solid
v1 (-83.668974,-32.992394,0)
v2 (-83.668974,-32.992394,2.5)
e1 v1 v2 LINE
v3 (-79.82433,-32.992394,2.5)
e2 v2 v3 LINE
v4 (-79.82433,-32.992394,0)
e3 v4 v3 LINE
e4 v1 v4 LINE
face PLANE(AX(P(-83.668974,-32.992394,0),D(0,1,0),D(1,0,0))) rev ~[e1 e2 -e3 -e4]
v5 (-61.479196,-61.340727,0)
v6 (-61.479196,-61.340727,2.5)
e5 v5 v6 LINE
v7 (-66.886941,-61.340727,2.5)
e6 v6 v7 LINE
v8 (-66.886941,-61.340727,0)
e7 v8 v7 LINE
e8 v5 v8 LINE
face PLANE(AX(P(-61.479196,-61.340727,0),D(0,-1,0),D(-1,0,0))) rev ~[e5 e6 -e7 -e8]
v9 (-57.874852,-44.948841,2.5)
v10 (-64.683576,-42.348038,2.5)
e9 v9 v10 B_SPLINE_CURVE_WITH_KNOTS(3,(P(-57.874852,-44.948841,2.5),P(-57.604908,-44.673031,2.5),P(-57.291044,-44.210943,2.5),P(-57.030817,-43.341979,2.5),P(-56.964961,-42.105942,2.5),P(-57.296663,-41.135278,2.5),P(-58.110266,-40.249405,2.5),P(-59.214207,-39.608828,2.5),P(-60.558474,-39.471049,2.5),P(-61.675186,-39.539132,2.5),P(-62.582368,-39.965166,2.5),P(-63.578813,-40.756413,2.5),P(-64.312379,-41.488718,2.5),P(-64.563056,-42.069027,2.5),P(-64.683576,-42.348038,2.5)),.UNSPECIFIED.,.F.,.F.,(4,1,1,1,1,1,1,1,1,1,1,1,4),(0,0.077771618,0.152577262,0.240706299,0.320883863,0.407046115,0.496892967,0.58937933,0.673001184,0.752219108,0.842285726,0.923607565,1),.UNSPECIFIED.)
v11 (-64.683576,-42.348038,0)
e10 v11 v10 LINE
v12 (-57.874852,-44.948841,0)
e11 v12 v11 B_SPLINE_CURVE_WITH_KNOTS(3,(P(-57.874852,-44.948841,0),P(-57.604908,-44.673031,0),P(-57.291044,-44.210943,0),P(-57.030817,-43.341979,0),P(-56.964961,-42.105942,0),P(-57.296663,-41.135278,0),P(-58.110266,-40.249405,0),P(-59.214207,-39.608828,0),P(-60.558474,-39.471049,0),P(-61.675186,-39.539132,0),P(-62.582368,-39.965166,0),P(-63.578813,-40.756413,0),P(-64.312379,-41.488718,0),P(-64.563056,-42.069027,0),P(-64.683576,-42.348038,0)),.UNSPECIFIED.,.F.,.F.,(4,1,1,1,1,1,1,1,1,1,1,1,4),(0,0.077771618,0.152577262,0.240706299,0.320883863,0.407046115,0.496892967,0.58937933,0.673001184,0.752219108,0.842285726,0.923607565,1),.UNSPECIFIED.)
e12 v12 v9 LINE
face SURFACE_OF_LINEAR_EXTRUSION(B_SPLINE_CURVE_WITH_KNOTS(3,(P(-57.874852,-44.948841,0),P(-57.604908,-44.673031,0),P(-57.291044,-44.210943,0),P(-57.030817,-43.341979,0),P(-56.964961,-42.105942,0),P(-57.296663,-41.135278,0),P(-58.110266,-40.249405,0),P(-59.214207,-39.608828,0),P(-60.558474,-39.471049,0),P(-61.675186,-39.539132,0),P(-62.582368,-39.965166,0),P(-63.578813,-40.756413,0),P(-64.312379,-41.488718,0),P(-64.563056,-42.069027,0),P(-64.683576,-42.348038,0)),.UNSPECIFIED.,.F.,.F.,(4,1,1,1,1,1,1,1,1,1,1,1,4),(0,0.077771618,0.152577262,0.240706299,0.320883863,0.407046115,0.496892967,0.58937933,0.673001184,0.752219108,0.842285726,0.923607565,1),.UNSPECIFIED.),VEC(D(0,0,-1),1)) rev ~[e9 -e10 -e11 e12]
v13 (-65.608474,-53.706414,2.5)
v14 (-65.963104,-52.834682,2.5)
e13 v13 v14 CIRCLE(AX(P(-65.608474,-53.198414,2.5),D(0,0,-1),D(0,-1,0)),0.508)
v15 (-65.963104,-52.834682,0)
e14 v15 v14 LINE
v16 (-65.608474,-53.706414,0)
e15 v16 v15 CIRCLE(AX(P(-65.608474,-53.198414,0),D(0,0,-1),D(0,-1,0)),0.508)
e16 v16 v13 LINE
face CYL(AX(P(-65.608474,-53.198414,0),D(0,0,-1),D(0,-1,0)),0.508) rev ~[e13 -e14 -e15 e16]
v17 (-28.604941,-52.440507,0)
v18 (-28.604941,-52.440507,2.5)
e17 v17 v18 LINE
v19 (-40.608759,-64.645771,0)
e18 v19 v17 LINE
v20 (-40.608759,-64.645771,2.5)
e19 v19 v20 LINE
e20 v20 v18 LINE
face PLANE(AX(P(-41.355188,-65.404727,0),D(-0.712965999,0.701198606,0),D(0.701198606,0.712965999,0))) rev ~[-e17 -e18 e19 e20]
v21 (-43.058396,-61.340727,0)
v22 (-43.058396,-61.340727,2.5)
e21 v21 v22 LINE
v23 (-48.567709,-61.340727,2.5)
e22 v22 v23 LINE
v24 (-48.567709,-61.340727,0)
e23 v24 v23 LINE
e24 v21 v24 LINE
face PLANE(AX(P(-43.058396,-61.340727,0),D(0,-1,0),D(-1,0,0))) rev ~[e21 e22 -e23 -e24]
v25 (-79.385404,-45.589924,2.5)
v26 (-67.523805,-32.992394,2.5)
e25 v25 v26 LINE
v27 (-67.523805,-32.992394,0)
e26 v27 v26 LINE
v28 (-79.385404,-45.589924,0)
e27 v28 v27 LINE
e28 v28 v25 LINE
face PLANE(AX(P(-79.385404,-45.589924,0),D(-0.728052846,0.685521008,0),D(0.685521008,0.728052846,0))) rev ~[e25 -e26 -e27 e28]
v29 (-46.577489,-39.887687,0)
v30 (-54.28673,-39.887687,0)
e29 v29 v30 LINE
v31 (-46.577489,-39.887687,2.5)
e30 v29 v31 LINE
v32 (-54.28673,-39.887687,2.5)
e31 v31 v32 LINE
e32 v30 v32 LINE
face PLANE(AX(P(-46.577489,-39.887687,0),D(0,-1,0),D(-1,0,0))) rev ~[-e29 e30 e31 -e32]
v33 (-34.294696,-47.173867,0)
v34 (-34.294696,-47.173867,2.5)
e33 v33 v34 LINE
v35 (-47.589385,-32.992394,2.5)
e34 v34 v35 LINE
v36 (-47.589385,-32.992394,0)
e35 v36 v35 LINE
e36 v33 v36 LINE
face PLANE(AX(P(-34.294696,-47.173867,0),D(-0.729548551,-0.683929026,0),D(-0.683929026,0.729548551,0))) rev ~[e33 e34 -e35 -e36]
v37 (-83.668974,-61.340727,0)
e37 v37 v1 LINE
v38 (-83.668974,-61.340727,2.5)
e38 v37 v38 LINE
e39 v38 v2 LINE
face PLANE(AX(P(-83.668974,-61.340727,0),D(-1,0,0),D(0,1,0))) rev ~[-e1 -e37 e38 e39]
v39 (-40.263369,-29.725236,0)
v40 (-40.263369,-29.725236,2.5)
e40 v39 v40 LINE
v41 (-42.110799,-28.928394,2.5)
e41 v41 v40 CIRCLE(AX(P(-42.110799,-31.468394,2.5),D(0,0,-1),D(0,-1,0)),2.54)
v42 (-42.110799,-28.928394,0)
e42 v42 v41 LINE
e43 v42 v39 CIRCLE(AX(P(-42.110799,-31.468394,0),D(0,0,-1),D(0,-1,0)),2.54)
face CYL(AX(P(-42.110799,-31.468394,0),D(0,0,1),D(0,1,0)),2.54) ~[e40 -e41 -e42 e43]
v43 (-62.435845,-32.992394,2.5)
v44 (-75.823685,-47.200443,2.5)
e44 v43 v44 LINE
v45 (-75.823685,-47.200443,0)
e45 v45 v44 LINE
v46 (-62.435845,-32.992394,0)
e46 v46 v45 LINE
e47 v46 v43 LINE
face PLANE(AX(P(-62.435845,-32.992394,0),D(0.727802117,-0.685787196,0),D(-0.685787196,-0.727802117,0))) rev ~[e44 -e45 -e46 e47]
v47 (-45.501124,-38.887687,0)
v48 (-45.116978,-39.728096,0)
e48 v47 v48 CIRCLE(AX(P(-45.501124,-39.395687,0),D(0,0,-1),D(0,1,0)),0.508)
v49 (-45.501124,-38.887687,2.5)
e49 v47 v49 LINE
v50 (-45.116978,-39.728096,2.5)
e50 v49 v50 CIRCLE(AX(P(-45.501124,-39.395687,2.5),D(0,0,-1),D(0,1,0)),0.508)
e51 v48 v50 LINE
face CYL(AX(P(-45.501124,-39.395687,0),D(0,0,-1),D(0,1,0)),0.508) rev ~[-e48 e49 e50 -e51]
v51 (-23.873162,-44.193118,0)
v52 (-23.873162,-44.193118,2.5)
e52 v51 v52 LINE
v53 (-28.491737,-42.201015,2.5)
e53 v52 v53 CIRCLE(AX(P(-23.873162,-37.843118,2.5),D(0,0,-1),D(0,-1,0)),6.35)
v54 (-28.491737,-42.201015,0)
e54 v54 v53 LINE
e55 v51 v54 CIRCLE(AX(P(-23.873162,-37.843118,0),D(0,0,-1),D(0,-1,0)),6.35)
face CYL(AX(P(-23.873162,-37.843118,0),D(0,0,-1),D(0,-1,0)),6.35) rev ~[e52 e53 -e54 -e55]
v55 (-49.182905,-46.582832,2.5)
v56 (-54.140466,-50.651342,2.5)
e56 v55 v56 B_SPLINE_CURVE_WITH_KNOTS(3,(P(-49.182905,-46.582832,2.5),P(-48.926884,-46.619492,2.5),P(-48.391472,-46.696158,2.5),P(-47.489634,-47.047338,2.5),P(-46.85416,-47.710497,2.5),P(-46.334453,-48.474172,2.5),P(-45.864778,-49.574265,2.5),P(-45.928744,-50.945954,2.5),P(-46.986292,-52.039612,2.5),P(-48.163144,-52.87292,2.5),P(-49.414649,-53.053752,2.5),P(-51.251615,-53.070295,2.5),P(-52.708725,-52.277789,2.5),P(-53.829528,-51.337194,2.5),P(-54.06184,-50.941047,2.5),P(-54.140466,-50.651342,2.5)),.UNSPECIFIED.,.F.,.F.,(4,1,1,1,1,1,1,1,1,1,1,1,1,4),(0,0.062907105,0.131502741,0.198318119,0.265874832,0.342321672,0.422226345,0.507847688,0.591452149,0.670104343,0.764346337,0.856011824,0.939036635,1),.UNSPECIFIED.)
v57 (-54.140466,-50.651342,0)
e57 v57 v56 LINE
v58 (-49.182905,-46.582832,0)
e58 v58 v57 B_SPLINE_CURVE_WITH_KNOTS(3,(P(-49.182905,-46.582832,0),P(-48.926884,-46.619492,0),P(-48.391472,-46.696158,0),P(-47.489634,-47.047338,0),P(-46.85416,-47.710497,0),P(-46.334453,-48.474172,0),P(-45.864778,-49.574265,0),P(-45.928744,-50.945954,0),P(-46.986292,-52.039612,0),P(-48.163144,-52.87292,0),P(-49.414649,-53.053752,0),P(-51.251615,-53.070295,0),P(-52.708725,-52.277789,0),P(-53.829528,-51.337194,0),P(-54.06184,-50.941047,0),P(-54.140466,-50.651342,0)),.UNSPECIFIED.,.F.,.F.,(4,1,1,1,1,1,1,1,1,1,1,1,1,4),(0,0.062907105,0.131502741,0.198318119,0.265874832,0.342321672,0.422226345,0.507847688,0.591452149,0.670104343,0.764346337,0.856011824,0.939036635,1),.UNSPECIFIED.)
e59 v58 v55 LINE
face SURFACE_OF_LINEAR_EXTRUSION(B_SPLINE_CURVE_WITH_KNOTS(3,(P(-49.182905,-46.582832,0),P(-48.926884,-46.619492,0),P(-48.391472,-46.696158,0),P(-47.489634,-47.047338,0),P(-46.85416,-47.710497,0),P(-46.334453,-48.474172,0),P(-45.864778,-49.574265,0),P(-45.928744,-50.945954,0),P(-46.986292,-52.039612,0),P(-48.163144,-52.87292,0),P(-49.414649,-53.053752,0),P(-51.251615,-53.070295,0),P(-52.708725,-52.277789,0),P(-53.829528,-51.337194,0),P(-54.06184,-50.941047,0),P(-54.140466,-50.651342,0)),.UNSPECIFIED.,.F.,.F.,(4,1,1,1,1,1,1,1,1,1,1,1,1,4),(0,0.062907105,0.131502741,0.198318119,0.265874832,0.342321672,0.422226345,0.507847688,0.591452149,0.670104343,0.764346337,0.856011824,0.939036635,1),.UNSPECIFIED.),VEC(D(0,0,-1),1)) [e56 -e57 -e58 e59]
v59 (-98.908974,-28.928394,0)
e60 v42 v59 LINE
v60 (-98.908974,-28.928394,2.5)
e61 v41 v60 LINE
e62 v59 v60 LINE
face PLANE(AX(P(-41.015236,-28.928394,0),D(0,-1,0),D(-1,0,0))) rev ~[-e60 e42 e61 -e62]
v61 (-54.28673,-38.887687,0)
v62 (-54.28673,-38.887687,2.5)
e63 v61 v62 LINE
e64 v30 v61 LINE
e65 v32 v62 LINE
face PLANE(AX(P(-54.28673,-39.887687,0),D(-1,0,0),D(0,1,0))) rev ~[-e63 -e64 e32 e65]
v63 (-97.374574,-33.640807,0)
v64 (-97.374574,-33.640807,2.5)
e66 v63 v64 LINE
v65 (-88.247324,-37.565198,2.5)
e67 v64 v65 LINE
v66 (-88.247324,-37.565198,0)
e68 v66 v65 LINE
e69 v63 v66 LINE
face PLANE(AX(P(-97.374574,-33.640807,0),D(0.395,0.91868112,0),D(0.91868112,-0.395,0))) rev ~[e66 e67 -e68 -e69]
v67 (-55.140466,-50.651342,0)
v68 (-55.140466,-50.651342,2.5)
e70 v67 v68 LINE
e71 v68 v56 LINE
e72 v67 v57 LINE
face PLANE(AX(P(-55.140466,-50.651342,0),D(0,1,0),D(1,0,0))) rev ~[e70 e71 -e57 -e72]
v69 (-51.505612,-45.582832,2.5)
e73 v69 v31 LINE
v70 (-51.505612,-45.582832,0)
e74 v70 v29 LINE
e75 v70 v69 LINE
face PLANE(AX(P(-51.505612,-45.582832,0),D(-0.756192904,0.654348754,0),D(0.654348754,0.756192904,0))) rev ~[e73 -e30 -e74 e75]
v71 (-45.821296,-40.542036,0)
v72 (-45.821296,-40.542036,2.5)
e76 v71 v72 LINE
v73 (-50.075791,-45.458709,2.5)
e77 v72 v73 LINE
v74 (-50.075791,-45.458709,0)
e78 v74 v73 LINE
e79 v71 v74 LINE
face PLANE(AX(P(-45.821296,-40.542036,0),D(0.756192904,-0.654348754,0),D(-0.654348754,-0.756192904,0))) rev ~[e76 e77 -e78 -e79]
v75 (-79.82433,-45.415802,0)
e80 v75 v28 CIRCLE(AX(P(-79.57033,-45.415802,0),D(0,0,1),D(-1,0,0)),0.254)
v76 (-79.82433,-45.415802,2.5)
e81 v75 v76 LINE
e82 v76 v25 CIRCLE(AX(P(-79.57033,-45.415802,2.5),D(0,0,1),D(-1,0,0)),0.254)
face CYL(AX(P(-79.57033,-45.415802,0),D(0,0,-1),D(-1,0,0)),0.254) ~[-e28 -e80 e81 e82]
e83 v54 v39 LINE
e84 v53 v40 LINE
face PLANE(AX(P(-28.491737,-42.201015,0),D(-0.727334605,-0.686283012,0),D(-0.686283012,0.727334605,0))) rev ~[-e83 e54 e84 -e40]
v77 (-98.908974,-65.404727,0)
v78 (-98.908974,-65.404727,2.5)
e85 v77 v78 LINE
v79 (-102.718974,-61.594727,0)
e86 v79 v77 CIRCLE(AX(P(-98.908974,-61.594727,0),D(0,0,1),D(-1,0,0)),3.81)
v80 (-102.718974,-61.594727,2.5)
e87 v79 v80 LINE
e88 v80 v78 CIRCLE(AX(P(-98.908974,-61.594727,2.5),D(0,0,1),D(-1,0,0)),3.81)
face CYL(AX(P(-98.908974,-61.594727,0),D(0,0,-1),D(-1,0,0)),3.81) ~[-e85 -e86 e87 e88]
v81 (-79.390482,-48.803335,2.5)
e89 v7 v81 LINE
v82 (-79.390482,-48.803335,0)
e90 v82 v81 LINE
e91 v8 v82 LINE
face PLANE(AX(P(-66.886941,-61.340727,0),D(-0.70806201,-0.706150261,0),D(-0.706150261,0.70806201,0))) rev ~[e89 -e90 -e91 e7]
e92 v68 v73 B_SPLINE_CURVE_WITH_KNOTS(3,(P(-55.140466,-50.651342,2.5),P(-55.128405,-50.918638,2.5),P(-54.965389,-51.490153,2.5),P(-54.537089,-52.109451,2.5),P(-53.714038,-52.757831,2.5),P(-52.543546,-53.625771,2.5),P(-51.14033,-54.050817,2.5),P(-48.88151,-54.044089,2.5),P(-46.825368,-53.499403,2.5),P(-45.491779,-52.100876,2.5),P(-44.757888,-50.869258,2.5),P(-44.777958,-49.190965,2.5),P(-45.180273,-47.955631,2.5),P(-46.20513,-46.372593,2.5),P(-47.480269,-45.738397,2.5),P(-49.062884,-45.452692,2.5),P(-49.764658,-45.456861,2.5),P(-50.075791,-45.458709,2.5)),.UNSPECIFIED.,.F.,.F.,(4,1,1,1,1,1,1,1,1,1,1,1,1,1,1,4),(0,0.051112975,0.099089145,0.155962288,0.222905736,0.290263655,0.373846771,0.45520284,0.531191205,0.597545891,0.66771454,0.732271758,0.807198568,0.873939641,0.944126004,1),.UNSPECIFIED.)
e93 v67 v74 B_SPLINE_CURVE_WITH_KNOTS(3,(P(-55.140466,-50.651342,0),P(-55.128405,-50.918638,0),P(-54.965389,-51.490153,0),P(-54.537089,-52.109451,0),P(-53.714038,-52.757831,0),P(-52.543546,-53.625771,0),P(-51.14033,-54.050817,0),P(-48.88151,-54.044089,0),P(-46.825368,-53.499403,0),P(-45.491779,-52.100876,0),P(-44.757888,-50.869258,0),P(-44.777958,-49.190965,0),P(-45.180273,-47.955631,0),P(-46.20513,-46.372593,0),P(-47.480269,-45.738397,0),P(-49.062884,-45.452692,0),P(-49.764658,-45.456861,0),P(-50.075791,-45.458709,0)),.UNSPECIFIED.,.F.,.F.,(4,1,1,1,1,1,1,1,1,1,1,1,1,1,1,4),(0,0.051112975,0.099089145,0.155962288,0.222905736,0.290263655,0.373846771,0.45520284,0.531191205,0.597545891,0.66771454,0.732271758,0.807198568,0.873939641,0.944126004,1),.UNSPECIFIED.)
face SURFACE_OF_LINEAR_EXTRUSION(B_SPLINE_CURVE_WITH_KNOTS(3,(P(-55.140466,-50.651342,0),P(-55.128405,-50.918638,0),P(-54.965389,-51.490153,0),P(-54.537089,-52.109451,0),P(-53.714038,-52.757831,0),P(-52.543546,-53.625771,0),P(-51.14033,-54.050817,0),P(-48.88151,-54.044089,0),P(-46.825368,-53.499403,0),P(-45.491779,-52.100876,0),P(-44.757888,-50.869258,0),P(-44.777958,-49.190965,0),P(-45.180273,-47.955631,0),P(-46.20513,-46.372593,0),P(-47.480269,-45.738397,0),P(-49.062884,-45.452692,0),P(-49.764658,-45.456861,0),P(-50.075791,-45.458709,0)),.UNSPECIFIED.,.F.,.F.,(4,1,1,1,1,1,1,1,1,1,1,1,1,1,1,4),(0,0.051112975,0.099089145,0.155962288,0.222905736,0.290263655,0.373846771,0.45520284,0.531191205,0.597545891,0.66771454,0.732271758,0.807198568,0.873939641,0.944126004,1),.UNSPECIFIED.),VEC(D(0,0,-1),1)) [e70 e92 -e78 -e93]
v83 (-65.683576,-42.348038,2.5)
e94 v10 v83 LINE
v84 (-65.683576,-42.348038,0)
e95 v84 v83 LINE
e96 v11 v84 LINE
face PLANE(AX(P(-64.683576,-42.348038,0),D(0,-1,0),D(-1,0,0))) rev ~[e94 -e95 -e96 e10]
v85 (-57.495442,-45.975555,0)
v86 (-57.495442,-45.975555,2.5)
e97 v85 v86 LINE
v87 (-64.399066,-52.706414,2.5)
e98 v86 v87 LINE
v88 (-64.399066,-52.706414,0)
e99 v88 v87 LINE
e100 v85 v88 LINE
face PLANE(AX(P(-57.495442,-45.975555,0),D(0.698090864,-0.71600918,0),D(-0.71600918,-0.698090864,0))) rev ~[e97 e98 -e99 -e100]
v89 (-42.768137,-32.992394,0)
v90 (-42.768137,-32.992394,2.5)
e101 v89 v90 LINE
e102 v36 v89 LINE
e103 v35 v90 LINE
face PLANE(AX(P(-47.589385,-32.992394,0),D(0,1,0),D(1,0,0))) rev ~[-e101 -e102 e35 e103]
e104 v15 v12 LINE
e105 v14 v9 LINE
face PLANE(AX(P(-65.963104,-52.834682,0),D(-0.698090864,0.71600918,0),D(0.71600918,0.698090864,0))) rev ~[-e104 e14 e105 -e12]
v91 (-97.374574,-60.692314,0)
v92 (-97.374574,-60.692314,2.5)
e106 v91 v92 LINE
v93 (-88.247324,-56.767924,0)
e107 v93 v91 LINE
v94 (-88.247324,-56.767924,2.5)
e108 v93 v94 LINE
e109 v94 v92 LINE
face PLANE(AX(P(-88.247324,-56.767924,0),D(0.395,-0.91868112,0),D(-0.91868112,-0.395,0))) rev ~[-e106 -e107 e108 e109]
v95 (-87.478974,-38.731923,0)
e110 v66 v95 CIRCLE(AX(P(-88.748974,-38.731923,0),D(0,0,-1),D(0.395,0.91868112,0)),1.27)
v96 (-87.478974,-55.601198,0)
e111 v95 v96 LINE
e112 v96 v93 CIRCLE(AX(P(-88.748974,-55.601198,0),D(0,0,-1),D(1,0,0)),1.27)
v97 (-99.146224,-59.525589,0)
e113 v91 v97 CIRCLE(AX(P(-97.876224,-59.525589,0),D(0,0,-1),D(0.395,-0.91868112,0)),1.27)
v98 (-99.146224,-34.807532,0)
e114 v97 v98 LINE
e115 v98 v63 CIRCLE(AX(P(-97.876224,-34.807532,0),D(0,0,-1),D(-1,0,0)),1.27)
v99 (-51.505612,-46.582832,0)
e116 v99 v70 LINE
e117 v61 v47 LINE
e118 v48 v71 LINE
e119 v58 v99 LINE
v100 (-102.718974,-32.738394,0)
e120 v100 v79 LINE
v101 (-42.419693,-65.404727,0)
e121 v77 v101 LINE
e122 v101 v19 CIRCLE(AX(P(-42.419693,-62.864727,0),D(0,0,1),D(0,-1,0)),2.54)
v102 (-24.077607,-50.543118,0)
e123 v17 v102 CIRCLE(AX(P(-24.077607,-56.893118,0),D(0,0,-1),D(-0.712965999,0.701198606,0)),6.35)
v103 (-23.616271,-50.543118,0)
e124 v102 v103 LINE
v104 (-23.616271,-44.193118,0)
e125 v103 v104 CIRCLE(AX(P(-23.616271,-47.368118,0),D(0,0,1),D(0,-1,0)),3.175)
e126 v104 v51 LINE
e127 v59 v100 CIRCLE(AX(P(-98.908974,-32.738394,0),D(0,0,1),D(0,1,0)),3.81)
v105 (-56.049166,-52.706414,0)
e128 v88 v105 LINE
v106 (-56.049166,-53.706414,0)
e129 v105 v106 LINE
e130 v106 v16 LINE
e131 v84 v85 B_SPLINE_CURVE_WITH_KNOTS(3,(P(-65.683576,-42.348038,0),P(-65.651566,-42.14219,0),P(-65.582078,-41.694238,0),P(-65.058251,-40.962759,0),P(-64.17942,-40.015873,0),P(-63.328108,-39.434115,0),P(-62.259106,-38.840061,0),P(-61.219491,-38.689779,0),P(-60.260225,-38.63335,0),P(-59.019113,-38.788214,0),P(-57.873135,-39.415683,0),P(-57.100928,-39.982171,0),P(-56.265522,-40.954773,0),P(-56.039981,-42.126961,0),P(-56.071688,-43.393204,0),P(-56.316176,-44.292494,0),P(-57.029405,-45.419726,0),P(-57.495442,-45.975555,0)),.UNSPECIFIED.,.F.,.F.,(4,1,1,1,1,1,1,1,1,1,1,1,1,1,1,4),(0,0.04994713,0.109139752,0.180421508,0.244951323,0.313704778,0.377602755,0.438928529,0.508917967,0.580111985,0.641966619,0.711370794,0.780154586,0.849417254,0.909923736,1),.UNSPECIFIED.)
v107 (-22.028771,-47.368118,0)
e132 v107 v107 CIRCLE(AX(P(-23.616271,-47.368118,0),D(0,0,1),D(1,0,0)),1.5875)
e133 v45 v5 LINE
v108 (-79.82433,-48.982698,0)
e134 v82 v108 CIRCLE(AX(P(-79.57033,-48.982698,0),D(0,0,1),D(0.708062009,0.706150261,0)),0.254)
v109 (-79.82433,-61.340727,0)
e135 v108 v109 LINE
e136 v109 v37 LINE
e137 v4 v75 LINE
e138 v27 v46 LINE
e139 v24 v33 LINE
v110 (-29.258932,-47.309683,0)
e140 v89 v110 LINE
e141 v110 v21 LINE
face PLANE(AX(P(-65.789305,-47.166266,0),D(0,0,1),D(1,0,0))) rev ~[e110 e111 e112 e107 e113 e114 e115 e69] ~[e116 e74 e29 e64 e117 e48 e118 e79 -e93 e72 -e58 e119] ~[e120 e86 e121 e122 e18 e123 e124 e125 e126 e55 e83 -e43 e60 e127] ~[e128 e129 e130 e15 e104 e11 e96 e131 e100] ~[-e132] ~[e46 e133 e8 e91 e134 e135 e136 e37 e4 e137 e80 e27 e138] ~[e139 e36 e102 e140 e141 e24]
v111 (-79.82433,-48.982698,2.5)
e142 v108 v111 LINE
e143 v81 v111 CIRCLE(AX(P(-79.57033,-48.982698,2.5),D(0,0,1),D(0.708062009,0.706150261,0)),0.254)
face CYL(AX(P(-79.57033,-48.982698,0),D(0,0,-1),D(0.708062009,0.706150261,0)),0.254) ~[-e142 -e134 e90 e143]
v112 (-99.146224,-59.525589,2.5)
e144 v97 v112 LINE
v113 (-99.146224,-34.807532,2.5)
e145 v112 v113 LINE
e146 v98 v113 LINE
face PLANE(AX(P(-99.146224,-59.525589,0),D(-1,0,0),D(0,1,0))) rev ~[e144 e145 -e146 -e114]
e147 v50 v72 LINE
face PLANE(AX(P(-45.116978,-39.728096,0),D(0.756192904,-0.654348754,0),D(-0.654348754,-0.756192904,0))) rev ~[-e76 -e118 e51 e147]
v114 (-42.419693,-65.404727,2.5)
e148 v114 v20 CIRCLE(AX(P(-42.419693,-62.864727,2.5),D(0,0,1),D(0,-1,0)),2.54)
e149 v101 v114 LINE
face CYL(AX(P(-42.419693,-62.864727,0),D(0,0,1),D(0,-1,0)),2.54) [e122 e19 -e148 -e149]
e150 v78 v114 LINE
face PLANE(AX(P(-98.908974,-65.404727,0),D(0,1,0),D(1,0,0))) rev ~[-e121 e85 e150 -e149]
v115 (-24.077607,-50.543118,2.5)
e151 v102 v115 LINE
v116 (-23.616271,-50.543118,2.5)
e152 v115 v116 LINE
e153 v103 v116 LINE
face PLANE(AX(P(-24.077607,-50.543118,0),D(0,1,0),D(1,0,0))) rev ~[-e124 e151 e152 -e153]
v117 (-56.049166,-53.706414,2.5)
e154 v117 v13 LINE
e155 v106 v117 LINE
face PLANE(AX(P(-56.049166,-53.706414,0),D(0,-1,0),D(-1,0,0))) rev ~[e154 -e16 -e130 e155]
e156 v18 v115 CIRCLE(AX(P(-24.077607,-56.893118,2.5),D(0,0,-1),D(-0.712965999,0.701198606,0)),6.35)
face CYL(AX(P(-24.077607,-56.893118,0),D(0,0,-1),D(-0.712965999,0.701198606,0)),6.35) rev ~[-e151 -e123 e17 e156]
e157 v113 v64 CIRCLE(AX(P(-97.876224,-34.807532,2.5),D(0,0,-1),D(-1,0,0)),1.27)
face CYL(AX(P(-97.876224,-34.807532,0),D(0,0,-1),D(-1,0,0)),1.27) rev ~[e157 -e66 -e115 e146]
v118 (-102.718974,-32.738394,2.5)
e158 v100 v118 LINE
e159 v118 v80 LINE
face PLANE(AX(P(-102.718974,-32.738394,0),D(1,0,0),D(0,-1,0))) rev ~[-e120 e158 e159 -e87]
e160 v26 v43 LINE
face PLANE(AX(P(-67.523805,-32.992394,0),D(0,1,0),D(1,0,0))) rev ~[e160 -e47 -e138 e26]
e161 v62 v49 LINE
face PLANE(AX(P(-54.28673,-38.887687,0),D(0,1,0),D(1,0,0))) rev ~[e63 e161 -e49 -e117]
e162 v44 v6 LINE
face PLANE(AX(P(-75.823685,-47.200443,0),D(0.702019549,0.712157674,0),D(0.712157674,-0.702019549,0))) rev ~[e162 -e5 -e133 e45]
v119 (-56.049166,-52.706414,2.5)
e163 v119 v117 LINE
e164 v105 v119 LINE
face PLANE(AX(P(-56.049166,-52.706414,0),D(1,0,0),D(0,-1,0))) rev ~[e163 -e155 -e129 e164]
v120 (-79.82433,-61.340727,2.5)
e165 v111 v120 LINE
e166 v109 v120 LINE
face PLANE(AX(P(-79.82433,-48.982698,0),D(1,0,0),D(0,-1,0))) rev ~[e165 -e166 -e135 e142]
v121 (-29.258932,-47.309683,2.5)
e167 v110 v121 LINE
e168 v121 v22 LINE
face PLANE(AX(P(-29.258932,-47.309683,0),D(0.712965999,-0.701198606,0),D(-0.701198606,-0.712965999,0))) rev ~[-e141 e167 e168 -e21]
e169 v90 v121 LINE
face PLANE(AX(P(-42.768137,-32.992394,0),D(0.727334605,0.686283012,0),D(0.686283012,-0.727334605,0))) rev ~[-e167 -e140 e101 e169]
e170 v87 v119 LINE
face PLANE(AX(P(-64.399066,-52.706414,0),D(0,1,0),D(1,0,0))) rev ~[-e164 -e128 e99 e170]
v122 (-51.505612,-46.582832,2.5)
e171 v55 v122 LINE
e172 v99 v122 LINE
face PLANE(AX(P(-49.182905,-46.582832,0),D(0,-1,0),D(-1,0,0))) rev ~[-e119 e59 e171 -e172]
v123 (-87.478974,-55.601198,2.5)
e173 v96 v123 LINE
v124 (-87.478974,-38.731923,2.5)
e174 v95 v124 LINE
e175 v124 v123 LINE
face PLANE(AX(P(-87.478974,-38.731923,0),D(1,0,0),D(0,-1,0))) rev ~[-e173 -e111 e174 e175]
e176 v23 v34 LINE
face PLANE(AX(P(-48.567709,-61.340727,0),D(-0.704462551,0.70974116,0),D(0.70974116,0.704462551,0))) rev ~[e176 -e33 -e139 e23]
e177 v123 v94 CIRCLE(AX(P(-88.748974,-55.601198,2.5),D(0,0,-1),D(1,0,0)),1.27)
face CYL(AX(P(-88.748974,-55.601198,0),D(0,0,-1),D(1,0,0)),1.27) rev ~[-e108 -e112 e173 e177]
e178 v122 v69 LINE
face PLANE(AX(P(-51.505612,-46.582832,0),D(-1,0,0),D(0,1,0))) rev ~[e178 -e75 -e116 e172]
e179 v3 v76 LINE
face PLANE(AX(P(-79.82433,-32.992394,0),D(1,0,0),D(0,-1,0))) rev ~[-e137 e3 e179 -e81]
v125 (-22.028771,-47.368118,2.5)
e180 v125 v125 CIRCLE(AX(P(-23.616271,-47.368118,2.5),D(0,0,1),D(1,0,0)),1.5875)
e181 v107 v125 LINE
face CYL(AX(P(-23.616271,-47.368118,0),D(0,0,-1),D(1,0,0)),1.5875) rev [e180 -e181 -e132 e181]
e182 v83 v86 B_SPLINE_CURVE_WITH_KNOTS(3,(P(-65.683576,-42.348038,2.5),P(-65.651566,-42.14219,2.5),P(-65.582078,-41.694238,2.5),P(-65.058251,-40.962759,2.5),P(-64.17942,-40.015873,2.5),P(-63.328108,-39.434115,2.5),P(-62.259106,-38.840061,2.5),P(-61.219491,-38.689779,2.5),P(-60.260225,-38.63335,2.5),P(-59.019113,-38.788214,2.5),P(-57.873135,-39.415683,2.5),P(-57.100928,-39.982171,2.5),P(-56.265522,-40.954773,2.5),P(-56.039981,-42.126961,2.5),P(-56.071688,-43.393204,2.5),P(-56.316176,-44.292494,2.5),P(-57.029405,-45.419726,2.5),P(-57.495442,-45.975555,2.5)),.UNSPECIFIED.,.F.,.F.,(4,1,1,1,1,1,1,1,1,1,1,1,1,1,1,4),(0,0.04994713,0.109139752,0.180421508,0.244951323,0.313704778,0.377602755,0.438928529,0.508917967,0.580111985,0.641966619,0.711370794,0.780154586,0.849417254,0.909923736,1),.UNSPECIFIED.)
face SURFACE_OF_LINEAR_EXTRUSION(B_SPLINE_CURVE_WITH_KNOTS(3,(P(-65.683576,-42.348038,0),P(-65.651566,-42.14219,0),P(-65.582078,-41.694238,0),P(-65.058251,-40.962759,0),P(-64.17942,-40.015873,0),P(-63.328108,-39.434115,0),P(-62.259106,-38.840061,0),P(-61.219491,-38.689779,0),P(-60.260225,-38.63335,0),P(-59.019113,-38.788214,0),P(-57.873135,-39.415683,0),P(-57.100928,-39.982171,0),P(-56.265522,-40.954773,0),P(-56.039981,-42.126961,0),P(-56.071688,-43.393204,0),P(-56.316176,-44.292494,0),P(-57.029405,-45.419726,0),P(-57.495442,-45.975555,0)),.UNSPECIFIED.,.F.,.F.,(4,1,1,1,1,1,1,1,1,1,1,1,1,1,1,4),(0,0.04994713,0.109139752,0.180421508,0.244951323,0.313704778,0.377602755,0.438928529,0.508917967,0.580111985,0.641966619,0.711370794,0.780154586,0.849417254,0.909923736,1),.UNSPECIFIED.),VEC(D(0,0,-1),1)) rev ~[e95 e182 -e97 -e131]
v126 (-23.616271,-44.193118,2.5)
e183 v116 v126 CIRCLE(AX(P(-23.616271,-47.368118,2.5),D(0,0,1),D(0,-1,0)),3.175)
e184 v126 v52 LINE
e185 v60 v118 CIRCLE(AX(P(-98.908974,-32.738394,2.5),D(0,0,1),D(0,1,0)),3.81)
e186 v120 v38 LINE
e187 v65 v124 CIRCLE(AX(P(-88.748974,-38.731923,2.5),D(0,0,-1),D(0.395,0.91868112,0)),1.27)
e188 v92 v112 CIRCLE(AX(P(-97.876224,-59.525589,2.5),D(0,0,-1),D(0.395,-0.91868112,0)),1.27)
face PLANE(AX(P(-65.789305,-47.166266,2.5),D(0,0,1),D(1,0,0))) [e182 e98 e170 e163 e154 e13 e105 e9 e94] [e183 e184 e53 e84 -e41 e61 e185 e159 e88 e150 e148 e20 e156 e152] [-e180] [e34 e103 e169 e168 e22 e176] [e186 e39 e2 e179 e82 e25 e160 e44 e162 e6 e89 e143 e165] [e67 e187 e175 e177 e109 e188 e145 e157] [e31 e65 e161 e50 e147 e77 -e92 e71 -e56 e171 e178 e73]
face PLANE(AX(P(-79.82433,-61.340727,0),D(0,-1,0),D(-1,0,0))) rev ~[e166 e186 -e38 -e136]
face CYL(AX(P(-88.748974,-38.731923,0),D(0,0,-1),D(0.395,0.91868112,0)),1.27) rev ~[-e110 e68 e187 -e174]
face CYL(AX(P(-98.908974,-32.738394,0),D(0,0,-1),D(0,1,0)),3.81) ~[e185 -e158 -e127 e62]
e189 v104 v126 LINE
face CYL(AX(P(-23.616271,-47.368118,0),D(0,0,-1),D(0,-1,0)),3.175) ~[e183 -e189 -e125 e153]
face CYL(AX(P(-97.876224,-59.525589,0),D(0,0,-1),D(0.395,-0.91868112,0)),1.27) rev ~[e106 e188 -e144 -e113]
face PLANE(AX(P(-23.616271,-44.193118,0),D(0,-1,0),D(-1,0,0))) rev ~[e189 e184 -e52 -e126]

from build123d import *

# Parameters (mm, degrees)
F0_R     = 1.5875
F1_DEPTH = 2.5
F2_R     = 2.54


with BuildPart() as f1:
    # F0 (on Top) → F1 (new body)
    with BuildSketch(Plane.XY):
        with BuildLine():
            Line((-41.0152355528, -28.9283943789), (-83.6689737264, -28.9283943789))
            Line((-83.6689737264, -28.9283943789), (-87.4789737264, -28.9283943789))
            Line((-87.4789737264, -28.9283943789), (-98.9089737264, -28.9283943789))
            ThreePointArc((-98.9089737264, -28.9283943789), (-101.6030505627, -30.0443175425), (-102.7189737264, -32.7383943789))
            Line((-102.7189737264, -32.7383943789), (-102.7189737264, -61.5947266498))
            ThreePointArc((-102.7189737264, -61.5947266498), (-101.6030505627, -64.2888034862), (-98.9089737264, -65.4047266498))
            Line((-98.9089737264, -65.4047266498), (-87.4789737264, -65.4047266498))
            Line((-87.4789737264, -65.4047266498), (-41.3551884672, -65.4047266498))
            Line((-41.3551884672, -65.4047266498), (-28.6049409392, -52.4405066828))
            ThreePointArc((-28.6049409392, -52.4405066828), (-26.5320333811, -51.0366436001), (-24.0776068467, -50.5431178285))
            Line((-24.0776068467, -50.5431178285), (-23.616271076, -50.5431178285))
            ThreePointArc((-23.616271076, -50.5431178285), (-20.441271076, -47.3681178285), (-23.616271076, -44.1931178285))
            Line((-23.616271076, -44.1931178285), (-23.8731620434, -44.1931178285))
            ThreePointArc((-23.8731620434, -44.1931178285), (-26.3881027231, -43.6738616385), (-28.4917367837, -42.2010149553))
            Line((-28.4917367837, -42.2010149553), (-41.0152355528, -28.9283943789))
        make_face()
        with BuildLine():
            Line((-87.4789737264, -38.7319225374), (-87.4789737264, -55.6011984912))
            ThreePointArc((-87.4789737264, -55.6011984912), (-87.6883146152, -56.2996984912), (-88.2473237264, -56.7679235135))
            Line((-88.2473237264, -56.7679235135), (-97.3745739487, -60.6923144255))
            ThreePointArc((-97.3745739487, -60.6923144255), (-98.5747239487, -60.5862485143), (-99.1462239487, -59.5255894032))
            Line((-99.1462239487, -59.5255894032), (-99.1462239487, -34.8075316255))
            ThreePointArc((-99.1462239487, -34.8075316255), (-98.5747239487, -33.7468725144), (-97.3745739487, -33.6408066032))
            Line((-97.3745739487, -33.6408066032), (-88.2473237264, -37.5651975152))
            ThreePointArc((-88.2473237264, -37.5651975152), (-87.6883146152, -38.0334225374), (-87.4789737264, -38.7319225374))
        make_face(mode=Mode.SUBTRACT)
        with Locations((-23.616271076, -47.3681178285)):
            Circle(F0_R, mode=Mode.SUBTRACT)
        with BuildLine():
            Line((-79.8243296973, -61.3407266498), (-83.6689737264, -61.3407266498))
            Line((-83.6689737264, -61.3407266498), (-83.6689737264, -32.9923943789))
            Line((-83.6689737264, -32.9923943789), (-79.8243296973, -32.9923943789))
            Line((-79.8243296973, -32.9923943789), (-79.8243296973, -45.4158016981))
            ThreePointArc((-79.8243296973, -45.4158016981), (-79.663991169, -45.6519023731), (-79.3854042743, -45.5899240342))
            Line((-79.3854042743, -45.5899240342), (-67.5238048367, -32.9923943789))
            Line((-67.5238048367, -32.9923943789), (-62.4358447909, -32.9923943789))
            Line((-62.4358447909, -32.9923943789), (-75.8236845664, -47.2004434557))
            Line((-75.8236845664, -47.2004434557), (-61.4791962959, -61.3407266498))
            Line((-61.4791962959, -61.3407266498), (-66.8869413145, -61.3407266498))
            Line((-66.8869413145, -61.3407266498), (-79.3904819469, -48.8033353869))
            ThreePointArc((-79.3904819469, -48.8033353869), (-79.6673726553, -48.7479665064), (-79.8243296973, -48.9826975531))
            Line((-79.8243296973, -48.9826975531), (-79.8243296973, -61.3407266498))
        make_face(mode=Mode.SUBTRACT)
        with BuildLine():
            Line((-56.0491662414, -52.7064142697), (-56.0491662414, -53.7064142697))
            Line((-56.0491662414, -53.7064142697), (-65.6084735286, -53.7064142697))
            ThreePointArc((-65.6084735286, -53.7064142697), (-66.0790264975, -53.3898402436), (-65.9631036874, -52.8346816063))
            Line((-65.9631036874, -52.8346816063), (-57.8748524364, -44.9488409501))
            add(Edge.make_bspline(
                [(-57.8748524364, -44.9488409501), (-57.6049079559, -44.6730310721), (-57.2910442328, -44.2109427065), (-57.0308173033, -43.3419786526), (-56.9649609015, -42.1059422972), (-57.2966631965, -41.135278444), (-58.1102664249, -40.2494052595), (-59.214207262, -39.6088278482), (-60.5584739912, -39.4710491862), (-61.6751855798, -39.5391321579), (-62.582367941, -39.9651658421), (-63.5788131113, -40.7564134967), (-64.3123788508, -41.4887184359), (-64.5630558851, -42.0690269456), (-64.6835764579, -42.348038143)],
                knots=[0, 0, 0, 0, 0.0777716176, 0.1525772623, 0.2407062995, 0.3208838627, 0.4070461152, 0.4968929668, 0.5893793296, 0.6730011837, 0.7522191079, 0.8422857258, 0.9236075646, 1, 1, 1, 1], degree=3))
            Line((-64.6835764579, -42.348038143), (-65.6835764579, -42.348038143))
            add(Edge.make_bspline(
                [(-65.6835764579, -42.348038143), (-65.6515655123, -42.1421899083), (-65.5820777825, -41.694238449), (-65.0582514394, -40.9627592012), (-64.1794204143, -40.0158728312), (-63.3281081882, -39.4341147601), (-62.2591063744, -38.8400608506), (-61.2194906793, -38.6897793207), (-60.2602251239, -38.6333500559), (-59.0191125498, -38.7882136948), (-57.873134978, -39.415683311), (-57.1009283372, -39.9821708278), (-56.2655215131, -40.9547734855), (-56.0399812771, -42.1269606472), (-56.0716875853, -43.3932037705), (-56.3161760872, -44.2924937446), (-57.0294053116, -45.4197264118), (-57.4954419049, -45.9755554042)],
                knots=[0, 0, 0, 0, 0.0499471301, 0.1091397519, 0.1804215081, 0.2449513234, 0.3137047776, 0.3776027552, 0.438928529, 0.5089179669, 0.5801119853, 0.6419666187, 0.7113707942, 0.7801545863, 0.849417254, 0.9099237356, 1, 1, 1, 1], degree=3))
            Line((-57.4954419049, -45.9755554042), (-64.3990657561, -52.7064142697))
            Line((-64.3990657561, -52.7064142697), (-56.0491662414, -52.7064142697))
        make_face(mode=Mode.SUBTRACT)
        with BuildLine():
            Line((-54.2867301789, -39.8876867653), (-54.2867301789, -38.8876867653))
            Line((-54.2867301789, -38.8876867653), (-45.5011243311, -38.8876867653))
            ThreePointArc((-45.5011243311, -38.8876867653), (-45.0391027641, -39.184499475), (-45.1169783359, -39.7280959324))
            Line((-45.1169783359, -39.7280959324), (-45.821296443, -40.5420355194))
            Line((-45.821296443, -40.5420355194), (-50.0757914916, -45.4587086929))
            add(Edge.make_bspline(
                [(-55.1404660268, -50.6513416474), (-55.1284046046, -50.9186383241), (-54.9653893117, -51.4901529696), (-54.5370885412, -52.1094507073), (-53.7140381482, -52.7578312376), (-52.5435463443, -53.6257710039), (-51.1403303214, -54.0508174033), (-48.8815100408, -54.0440888692), (-46.8253675304, -53.4994028314), (-45.491779462, -52.1008756074), (-44.7578878398, -50.8692584268), (-44.7779583918, -49.1909650381), (-45.1802731622, -47.9556314846), (-46.2051304446, -46.3725933113), (-47.4802688433, -45.7383972623), (-49.0628839063, -45.4526923808), (-49.7646579429, -45.4568607193), (-50.0757914916, -45.4587086929)],
                knots=[0, 0, 0, 0, 0.0511129754, 0.0990891446, 0.1559622878, 0.2229057363, 0.2902636551, 0.373846771, 0.4552028401, 0.5311912045, 0.5975458909, 0.6677145395, 0.7322717578, 0.8071985683, 0.8739396412, 0.9441260045, 1, 1, 1, 1], degree=3))
            Line((-55.1404660268, -50.6513416474), (-54.1404660268, -50.6513416474))
            add(Edge.make_bspline(
                [(-49.1829052277, -46.5828324155), (-48.9268844142, -46.6194922488), (-48.3914715263, -46.6961583908), (-47.4896344277, -47.0473375248), (-46.8541600039, -47.7104967338), (-46.3344533483, -48.4741719236), (-45.8647784487, -49.574264874), (-45.9287442462, -50.9459537276), (-46.9862918054, -52.0396121919), (-48.1631440033, -52.8729201188), (-49.4146488492, -53.0537518116), (-51.2516154736, -53.0702952634), (-52.7087247232, -52.2777887091), (-53.829527649, -51.3371938826), (-54.0618401661, -50.9410469965), (-54.1404660268, -50.6513416474)],
                knots=[0, 0, 0, 0, 0.0629071045, 0.1315027411, 0.1983181189, 0.2658748322, 0.3423216722, 0.4222263447, 0.5078476883, 0.5914521489, 0.6701043426, 0.7643463369, 0.8560118243, 0.9390366353, 1, 1, 1, 1], degree=3))
            Line((-49.1829052277, -46.5828324155), (-51.505612107, -46.5828324155))
            Line((-51.505612107, -46.5828324155), (-51.505612107, -45.5828324155))
            Line((-51.505612107, -45.5828324155), (-46.577489347, -39.8876867653))
            Line((-46.577489347, -39.8876867653), (-54.2867301789, -39.8876867653))
        make_face(mode=Mode.SUBTRACT)
        Polygon((-47.5893848285, -32.9923943789), (-42.7681369416, -32.9923943789), (-29.2589323304, -47.3096830535), (-43.0583957292, -61.3407266498), (-48.5677089251, -61.3407266498), (-34.2946959369, -47.1738673802), align=None, mode=Mode.SUBTRACT)
    extrude(amount=F1_DEPTH)

    # F2
    f2_edges = [f1.edges().sort_by_distance(p)[0] for p in [
        (-41.015236, -28.928394, 1.25),
        (-41.355188, -65.404727, 1.25),
    ]]
    fillet(f2_edges, radius=F2_R)


solid = f1.part
